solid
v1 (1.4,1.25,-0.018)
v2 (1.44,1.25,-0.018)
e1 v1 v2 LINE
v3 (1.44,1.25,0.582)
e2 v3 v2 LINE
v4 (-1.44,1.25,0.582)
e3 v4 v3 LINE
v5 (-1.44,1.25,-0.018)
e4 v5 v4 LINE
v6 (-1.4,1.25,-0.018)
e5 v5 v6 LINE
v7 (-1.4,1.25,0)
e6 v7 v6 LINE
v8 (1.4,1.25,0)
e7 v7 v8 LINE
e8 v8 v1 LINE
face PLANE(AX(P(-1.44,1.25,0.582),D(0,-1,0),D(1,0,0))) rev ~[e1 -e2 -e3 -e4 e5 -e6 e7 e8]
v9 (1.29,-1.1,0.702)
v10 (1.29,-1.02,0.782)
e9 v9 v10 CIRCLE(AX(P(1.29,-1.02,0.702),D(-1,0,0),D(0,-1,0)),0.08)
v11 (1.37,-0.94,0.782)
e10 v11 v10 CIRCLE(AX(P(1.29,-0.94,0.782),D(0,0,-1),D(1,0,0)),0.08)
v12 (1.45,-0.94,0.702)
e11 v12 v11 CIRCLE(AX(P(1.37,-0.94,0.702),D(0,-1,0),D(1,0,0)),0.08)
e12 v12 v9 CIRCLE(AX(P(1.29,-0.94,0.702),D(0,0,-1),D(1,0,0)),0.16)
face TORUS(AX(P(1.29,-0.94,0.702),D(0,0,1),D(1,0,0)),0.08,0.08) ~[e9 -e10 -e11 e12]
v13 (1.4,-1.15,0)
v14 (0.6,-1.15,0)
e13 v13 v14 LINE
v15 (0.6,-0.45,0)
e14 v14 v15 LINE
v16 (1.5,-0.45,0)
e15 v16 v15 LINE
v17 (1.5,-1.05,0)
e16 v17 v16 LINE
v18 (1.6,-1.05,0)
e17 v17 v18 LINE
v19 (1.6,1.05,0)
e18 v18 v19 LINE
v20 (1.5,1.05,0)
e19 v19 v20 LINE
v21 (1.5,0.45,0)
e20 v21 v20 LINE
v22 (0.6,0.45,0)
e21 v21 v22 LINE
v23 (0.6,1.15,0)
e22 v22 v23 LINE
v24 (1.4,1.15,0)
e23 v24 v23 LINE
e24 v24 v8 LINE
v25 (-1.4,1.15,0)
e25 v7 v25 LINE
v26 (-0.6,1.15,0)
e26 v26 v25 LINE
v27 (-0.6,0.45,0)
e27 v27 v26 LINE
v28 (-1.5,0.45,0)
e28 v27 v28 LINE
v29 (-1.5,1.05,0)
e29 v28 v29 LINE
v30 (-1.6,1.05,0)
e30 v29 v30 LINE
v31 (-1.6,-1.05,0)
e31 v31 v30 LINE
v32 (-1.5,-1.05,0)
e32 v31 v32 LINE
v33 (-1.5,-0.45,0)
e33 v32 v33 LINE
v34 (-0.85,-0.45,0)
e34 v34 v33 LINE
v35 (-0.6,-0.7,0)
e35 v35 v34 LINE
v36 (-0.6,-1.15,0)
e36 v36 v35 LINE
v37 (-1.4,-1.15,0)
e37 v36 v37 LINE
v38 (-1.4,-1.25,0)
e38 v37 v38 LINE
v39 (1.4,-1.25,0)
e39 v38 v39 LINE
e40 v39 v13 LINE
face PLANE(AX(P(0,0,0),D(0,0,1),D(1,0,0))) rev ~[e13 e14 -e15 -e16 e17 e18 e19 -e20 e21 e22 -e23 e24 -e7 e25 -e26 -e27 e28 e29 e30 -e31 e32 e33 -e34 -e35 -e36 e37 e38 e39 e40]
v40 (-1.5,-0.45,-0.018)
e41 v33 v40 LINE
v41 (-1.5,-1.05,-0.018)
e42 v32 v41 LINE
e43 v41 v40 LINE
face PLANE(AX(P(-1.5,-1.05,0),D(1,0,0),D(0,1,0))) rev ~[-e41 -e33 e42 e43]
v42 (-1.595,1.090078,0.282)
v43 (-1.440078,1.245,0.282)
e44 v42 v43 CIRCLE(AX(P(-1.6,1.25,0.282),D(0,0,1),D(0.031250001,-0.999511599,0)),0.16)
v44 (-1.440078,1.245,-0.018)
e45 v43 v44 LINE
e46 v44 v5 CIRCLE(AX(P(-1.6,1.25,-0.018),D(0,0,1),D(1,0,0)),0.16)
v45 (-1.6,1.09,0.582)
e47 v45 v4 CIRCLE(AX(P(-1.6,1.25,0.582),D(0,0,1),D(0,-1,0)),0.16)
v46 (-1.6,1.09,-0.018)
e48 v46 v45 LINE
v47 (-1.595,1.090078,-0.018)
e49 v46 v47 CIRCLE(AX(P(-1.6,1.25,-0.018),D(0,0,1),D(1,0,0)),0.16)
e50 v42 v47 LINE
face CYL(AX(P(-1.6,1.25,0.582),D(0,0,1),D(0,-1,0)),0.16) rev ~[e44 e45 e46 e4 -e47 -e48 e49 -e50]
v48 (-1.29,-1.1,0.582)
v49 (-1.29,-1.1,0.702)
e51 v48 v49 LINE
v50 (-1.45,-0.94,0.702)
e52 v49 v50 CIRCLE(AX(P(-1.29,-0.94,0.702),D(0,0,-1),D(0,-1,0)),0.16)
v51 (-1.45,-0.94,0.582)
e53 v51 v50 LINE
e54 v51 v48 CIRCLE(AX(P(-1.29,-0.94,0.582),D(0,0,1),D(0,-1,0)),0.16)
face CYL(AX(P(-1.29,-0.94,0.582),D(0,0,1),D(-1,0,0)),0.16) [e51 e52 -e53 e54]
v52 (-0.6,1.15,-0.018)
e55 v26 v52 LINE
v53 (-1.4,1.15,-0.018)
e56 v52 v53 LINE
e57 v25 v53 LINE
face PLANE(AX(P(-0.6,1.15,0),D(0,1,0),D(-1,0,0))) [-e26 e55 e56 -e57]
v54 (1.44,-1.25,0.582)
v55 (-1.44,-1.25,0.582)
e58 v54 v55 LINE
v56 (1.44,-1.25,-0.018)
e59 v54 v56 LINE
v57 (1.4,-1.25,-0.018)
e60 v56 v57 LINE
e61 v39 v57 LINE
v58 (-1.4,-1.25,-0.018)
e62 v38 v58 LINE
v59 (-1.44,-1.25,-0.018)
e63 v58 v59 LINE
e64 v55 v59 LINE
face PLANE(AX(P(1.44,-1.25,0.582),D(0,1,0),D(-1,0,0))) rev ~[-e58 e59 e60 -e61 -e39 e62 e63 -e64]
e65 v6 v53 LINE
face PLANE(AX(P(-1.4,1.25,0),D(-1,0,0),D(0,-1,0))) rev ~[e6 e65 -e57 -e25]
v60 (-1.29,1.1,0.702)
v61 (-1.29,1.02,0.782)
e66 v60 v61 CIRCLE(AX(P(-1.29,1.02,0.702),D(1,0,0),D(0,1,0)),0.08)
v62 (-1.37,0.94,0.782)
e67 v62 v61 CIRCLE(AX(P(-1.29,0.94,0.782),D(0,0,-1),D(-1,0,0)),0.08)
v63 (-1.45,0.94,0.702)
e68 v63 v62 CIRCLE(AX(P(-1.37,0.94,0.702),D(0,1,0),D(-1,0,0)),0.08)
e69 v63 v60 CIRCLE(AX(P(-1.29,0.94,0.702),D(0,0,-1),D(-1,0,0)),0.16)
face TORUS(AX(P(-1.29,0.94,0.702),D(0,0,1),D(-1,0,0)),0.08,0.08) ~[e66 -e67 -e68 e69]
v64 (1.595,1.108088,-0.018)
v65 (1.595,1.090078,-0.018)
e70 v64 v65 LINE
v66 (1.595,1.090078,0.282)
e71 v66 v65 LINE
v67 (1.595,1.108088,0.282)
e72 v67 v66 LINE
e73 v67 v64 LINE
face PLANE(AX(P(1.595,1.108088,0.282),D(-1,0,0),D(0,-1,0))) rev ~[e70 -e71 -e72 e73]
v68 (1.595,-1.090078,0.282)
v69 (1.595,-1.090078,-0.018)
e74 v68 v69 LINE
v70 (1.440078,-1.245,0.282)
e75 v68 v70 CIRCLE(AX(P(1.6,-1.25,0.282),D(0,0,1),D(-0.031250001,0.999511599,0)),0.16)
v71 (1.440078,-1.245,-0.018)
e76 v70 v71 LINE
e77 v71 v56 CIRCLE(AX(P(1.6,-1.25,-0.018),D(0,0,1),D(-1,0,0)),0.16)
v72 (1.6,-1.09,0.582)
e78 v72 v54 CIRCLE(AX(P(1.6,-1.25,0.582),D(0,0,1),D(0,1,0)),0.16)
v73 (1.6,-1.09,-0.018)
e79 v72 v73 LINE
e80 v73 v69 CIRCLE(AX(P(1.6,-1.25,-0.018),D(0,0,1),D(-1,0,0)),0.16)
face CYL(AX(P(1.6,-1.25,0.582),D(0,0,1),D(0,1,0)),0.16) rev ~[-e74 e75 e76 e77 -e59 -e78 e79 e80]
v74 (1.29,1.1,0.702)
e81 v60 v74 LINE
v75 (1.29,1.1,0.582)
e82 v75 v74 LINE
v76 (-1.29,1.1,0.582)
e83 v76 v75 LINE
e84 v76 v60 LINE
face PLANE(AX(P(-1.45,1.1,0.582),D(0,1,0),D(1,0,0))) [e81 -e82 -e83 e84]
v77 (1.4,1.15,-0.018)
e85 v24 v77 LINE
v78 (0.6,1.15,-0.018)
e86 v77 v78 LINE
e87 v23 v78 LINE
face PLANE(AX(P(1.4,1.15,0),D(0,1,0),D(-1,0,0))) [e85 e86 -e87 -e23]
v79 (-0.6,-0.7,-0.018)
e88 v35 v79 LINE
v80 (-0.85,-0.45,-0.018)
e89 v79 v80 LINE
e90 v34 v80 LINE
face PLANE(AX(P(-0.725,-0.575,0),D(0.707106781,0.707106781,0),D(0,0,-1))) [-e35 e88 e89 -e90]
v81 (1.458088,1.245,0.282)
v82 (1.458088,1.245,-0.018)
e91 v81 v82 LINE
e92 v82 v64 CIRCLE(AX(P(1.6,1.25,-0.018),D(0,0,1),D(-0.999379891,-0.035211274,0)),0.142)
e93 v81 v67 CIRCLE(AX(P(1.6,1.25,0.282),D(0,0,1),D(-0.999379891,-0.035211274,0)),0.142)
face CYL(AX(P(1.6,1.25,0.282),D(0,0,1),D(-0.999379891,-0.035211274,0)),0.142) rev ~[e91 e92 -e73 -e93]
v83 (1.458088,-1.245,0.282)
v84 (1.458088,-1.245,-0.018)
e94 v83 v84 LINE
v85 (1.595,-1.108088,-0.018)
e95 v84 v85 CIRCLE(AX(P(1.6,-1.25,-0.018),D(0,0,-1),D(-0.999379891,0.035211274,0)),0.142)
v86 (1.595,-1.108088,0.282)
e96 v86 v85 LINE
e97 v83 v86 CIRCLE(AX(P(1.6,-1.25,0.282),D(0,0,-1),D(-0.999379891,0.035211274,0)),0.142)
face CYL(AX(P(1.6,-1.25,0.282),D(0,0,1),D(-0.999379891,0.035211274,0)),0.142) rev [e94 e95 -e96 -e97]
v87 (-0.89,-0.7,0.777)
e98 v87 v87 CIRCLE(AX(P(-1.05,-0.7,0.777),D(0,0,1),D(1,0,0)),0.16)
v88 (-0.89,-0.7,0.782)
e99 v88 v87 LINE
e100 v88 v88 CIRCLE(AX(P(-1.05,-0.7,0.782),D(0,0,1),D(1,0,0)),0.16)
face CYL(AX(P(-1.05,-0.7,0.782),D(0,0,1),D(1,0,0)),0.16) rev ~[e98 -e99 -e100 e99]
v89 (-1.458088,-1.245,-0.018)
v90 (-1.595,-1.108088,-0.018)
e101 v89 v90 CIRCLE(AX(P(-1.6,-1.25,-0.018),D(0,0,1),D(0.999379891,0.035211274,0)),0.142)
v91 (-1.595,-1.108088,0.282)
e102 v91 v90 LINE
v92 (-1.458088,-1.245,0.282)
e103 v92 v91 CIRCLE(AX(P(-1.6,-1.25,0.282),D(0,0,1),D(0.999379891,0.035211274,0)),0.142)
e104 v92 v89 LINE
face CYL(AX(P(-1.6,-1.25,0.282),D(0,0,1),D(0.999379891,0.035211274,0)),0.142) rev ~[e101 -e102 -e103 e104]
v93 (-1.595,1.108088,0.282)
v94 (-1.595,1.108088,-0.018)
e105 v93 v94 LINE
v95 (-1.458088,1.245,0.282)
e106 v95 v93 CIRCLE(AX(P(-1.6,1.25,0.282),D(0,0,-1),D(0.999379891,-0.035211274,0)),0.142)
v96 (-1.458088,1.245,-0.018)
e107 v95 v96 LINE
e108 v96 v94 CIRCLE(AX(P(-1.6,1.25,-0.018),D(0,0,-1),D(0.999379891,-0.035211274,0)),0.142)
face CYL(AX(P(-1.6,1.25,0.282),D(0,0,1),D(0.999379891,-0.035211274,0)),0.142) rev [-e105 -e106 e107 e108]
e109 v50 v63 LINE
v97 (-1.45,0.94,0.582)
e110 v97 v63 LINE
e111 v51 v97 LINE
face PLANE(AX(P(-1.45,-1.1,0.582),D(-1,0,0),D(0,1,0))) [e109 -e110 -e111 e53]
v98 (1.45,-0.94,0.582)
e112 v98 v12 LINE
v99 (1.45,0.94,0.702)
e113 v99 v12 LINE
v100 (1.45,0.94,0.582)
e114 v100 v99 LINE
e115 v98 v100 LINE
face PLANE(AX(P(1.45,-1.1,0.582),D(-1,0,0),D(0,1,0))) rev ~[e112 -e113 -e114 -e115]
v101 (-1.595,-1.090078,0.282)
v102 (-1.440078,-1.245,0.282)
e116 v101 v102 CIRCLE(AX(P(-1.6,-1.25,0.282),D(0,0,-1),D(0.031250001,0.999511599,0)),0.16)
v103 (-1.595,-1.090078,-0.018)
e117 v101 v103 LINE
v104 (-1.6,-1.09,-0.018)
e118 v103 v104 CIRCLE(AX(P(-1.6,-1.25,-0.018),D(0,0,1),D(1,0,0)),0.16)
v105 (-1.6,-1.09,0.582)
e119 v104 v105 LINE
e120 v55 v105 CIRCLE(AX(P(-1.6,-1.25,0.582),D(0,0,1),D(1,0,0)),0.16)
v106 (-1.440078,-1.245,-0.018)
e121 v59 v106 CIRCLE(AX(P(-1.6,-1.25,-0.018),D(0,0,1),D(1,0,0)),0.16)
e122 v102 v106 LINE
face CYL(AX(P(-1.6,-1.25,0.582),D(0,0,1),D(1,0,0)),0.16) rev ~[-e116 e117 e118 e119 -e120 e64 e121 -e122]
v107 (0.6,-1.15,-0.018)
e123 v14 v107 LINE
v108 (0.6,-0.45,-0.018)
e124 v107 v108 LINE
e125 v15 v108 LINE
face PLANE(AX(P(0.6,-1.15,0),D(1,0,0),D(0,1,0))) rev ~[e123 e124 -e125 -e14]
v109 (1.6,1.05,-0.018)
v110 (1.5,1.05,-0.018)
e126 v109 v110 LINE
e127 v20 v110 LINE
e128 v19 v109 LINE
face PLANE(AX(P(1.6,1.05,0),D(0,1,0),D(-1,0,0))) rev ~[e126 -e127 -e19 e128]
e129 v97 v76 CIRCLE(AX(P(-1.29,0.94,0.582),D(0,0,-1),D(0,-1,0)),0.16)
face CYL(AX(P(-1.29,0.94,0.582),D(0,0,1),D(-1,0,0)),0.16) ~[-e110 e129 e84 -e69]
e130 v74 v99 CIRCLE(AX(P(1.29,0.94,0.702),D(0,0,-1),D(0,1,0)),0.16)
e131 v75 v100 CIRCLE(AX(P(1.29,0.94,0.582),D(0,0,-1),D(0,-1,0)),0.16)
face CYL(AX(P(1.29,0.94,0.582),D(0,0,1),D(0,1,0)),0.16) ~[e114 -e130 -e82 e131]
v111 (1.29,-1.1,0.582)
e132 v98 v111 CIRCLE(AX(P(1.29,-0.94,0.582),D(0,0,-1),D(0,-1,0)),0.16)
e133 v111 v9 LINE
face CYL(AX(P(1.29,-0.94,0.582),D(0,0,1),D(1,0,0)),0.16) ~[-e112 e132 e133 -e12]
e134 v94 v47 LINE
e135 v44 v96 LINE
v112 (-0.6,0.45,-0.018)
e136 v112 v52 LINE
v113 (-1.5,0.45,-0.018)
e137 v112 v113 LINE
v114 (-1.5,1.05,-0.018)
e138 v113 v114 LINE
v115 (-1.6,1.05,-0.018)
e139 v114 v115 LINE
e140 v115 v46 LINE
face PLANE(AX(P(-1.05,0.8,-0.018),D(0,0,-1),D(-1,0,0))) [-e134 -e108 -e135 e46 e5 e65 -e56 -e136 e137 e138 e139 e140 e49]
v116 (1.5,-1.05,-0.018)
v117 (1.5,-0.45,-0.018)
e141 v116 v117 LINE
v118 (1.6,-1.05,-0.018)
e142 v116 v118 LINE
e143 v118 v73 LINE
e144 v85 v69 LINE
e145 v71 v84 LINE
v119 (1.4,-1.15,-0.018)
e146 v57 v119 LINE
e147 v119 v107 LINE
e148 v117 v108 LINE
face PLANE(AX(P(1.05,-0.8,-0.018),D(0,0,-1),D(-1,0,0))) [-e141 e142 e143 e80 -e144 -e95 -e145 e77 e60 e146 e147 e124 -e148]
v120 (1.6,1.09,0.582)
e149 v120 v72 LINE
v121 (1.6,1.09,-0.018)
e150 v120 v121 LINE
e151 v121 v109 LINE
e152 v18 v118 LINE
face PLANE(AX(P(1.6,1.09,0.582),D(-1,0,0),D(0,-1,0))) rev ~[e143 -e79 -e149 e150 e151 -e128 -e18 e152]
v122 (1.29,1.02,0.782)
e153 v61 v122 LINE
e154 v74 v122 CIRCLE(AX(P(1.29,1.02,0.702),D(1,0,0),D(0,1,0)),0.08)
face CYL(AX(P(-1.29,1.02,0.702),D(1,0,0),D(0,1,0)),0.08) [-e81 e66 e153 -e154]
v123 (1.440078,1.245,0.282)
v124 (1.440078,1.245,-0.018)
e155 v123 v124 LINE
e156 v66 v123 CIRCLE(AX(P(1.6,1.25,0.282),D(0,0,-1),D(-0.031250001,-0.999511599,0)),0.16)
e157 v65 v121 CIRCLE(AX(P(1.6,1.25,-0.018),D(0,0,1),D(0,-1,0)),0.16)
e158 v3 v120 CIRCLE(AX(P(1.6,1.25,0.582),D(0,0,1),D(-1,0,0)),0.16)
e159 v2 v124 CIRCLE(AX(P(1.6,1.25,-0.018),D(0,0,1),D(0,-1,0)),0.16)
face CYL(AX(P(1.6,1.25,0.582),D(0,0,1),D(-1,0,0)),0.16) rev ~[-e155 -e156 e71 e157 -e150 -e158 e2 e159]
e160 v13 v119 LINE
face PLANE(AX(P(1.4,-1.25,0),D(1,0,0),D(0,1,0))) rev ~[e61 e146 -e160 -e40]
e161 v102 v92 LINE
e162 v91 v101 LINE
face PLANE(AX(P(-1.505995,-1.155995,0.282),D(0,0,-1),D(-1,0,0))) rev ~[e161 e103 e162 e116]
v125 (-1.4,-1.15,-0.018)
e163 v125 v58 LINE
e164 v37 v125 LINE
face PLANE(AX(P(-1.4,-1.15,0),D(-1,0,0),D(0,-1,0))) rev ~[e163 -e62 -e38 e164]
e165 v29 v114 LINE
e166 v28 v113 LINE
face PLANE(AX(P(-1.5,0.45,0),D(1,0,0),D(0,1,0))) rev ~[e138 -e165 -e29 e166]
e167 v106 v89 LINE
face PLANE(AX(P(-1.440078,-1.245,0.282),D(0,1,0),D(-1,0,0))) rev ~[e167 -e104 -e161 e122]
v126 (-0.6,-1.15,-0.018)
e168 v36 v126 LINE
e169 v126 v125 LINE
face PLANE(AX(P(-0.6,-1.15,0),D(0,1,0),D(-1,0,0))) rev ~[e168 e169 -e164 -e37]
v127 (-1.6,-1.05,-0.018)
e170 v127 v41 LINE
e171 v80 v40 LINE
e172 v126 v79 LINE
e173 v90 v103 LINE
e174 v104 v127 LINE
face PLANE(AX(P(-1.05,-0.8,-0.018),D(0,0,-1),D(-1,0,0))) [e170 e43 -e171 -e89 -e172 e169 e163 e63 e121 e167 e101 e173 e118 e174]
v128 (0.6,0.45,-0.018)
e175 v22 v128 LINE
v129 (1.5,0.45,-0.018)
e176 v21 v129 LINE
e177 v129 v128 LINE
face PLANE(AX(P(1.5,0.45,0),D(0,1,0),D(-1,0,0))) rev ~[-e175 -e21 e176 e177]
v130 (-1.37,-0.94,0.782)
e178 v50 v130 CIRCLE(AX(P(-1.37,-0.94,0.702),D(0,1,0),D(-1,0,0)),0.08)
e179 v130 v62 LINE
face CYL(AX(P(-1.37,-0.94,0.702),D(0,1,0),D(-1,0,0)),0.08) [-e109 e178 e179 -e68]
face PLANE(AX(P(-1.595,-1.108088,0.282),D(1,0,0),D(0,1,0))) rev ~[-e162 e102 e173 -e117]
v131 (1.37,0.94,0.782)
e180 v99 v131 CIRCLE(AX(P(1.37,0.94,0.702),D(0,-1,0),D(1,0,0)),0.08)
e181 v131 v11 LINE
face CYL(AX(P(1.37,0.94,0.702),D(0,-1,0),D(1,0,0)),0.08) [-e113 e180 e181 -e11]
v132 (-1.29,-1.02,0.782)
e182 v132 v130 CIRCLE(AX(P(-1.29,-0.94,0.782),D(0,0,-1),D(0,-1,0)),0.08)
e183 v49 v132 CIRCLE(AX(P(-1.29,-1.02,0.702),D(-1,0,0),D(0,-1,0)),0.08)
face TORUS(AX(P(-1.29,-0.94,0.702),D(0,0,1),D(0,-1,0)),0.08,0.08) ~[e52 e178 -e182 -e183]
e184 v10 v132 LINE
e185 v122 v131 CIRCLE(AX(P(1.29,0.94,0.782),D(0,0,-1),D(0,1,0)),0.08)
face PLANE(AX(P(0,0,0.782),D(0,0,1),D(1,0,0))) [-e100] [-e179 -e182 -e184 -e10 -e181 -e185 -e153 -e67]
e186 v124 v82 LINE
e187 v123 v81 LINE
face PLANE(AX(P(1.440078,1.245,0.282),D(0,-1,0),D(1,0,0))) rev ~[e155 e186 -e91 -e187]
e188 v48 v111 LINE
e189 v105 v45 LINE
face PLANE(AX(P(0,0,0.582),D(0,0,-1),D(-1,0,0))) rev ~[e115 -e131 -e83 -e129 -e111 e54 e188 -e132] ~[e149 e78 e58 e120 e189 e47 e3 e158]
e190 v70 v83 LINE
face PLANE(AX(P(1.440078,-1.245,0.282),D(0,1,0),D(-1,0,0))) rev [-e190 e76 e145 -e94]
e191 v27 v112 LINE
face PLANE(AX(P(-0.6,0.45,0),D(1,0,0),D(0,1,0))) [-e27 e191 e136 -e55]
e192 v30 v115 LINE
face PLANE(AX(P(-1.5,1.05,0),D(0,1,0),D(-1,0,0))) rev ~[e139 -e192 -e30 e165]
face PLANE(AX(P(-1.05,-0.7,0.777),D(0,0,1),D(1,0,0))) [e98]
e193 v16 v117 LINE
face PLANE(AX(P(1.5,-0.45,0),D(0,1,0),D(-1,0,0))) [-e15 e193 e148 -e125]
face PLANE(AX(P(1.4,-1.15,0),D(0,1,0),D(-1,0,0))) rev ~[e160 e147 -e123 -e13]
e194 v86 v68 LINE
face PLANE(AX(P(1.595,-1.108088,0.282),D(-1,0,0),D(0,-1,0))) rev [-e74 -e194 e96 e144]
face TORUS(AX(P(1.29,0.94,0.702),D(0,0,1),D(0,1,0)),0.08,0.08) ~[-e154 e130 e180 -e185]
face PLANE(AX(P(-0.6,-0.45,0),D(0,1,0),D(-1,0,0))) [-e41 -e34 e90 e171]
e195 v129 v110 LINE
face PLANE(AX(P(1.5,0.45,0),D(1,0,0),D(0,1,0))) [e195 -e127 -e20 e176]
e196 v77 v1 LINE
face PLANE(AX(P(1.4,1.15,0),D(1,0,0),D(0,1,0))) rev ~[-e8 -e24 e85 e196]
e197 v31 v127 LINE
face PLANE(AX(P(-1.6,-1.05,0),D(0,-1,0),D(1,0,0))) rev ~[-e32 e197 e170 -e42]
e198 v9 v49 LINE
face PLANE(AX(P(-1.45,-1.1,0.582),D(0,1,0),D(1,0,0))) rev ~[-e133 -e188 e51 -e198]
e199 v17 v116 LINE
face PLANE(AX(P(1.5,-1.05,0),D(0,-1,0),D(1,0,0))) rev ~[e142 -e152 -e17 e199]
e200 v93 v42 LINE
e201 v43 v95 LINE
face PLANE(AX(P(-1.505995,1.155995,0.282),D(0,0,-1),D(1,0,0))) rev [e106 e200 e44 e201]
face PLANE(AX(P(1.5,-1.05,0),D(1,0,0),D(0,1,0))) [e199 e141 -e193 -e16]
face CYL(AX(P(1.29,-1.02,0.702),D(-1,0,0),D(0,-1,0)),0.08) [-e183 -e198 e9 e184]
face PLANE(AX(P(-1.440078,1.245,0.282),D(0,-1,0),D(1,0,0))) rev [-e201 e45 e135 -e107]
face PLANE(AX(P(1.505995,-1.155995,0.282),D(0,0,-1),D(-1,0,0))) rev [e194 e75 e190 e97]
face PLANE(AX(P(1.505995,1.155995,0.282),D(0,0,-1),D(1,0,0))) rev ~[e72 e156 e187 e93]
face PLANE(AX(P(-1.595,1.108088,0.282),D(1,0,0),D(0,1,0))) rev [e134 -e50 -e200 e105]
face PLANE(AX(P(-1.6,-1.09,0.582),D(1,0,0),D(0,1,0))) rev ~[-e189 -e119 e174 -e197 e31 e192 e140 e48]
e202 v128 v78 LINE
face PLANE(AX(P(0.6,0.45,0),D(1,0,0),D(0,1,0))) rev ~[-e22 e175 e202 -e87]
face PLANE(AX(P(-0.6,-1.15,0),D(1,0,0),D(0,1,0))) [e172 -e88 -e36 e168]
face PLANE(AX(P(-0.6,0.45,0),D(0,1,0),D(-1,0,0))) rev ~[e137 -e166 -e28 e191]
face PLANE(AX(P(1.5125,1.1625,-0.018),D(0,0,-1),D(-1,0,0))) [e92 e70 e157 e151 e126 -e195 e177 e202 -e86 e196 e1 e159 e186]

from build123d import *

# Parameters (mm, degrees)
SKETCH1_W               = 3.2
SKETCH1_H               = 2.5
BOSS_EXTRUDE1_DEPTH     = 0.564
SKETCH2_W               = 0.9
SKETCH2_H               = 0.7
BOSS_EXTRUDE2_DEPTH     = 0.018
CHAMFER2_SIZE           = 0.25
CUT_EXTRUDE1_DEPTH      = 3.10727217
CUT_EXTRUDE1_DEPTH_BACK = 3.10727217
BOSS_EXTRUDE3_START     = -0.282
BOSS_EXTRUDE3_DEPTH     = 0.3
MIRROR2_START           = -0.282
MIRROR2_COPY_1_DEPTH    = 0.3
BOSS_EXTRUDE4_START     = 0.018
BOSS_EXTRUDE4_DEPTH     = 0.018
SKETCH8_W               = 2.9
SKETCH8_H               = 2.2
BOSS_EXTRUDE5_DEPTH     = 0.2
FILLET1_R               = 0.16
FILLET2_R               = 0.08
SKETCH9_R               = 0.16
CUT_EXTRUDE2_DEPTH      = 0.005


with BuildPart() as part:
    # Sketch1 → Boss-Extrude1 (new body)
    with BuildSketch(Plane.XY):
        Rectangle(SKETCH1_W, SKETCH1_H)
    extrude(amount=BOSS_EXTRUDE1_DEPTH)

    # Sketch2 → Boss-Extrude2 (add)
    with BuildSketch(Plane(origin=(0, 0, 0), x_dir=(-1, 0, 0), z_dir=(0, 0, -1))):
        with Locations((1.05, -0.8)):
            Rectangle(SKETCH2_W, SKETCH2_H)
        Polygon((1.5, -1.05), (1.5, -1.15), (1.4, -1.15), (1.4, -1.25), (1.6, -1.25), (1.6, -1.05), align=None)
        with Locations((-1.05, -0.8)):
            Rectangle(SKETCH2_W, SKETCH2_H)
        Polygon((-1.6, -1.25), (-1.4, -1.25), (-1.4, -1.15), (-1.5, -1.15), (-1.5, -1.05), (-1.6, -1.05), align=None)
        Polygon((-1.6, 1.25), (-1.6, 1.05), (-1.5, 1.05), (-1.5, 1.15), (-1.4, 1.15), (-1.4, 1.25), align=None)
        with Locations((-1.05, 0.8)):
            Rectangle(SKETCH2_W, SKETCH2_H)
        with Locations((1.05, 0.8)):
            Rectangle(SKETCH2_W, SKETCH2_H)
        Polygon((1.5, 1.05), (1.6, 1.05), (1.6, 1.25), (1.4, 1.25), (1.4, 1.15), (1.5, 1.15), align=None)
    extrude(amount=BOSS_EXTRUDE2_DEPTH)

    # Chamfer2
    chamfer2_edges = [part.edges().sort_by_distance(p)[0] for p in [
        (-0.6, -0.45, -0.009),
    ]]
    chamfer(chamfer2_edges, length=CHAMFER2_SIZE)

    # Sketch3 → Cut-Extrude1 (cut, two sides: drawn at the far end of the back side and taken through both)
    with BuildSketch(Plane(origin=(0, 0, 0), x_dir=(-1, 0, 0), z_dir=(0, 0, -1)).offset(-CUT_EXTRUDE1_DEPTH_BACK)):
        with BuildLine():
            Line((1.6, 1.09), (1.6, 1.25))
            Line((1.6, 1.25), (1.44, 1.25))
            ThreePointArc((1.44, 1.25), (1.486862915, 1.136862915), (1.6, 1.09))
        make_face()
        with BuildLine():
            Line((-1.44, 1.25), (-1.6, 1.25))
            Line((-1.6, 1.25), (-1.6, 1.09))
            ThreePointArc((-1.6, 1.09), (-1.486862915, 1.136862915), (-1.44, 1.25))
        make_face()
        with BuildLine():
            Line((-1.6, -1.09), (-1.6, -1.25))
            Line((-1.6, -1.25), (-1.44, -1.25))
            ThreePointArc((-1.44, -1.25), (-1.486862915, -1.136862915), (-1.6, -1.09))
        make_face()
        with BuildLine():
            Line((1.6, -1.09), (1.6, -1.25))
            Line((1.6, -1.25), (1.44, -1.25))
            ThreePointArc((1.44, -1.25), (1.486862915, -1.136862915), (1.6, -1.09))
        make_face()
    extrude(amount=CUT_EXTRUDE1_DEPTH + CUT_EXTRUDE1_DEPTH_BACK, mode=Mode.SUBTRACT)

    # Sketch5 → Boss-Extrude3 (add)
    with BuildSketch(Plane(origin=(0, 0, 0), x_dir=(-1, 0, 0), z_dir=(0, 0, -1)).offset(BOSS_EXTRUDE3_START)):
        with BuildLine():
            Line((1.440078144, -1.245), (1.458088055, -1.245))
            ThreePointArc((1.458088055, -1.245), (1.499590837, -1.149590837), (1.595, -1.108088055))
            Line((1.595, -1.108088055), (1.595, -1.090078144))
            ThreePointArc((1.595, -1.090078144), (1.486862915, -1.136862915), (1.440078144, -1.245))
        make_face()
    boss_extrude3 = extrude(amount=BOSS_EXTRUDE3_DEPTH)

    # Mirror1: Boss-Extrude3 across plane
    add(boss_extrude3.mirror(Plane(origin=(0, 0, 0), x_dir=(0, 0, 1), z_dir=(1, 0, 0))))

    # Mirror2: Boss-Extrude3 across plane
    add(boss_extrude3.mirror(Plane.ZX))

    # Mirror2 copy 1 sketch → Mirror2 copy 1 (add)
    with BuildSketch(Plane(origin=(0, 0, 0), x_dir=(1, 0, 0), z_dir=(0, 0, -1)).offset(MIRROR2_START)):
        with BuildLine():
            Line((1.440078144, -1.245), (1.458088055, -1.245))
            ThreePointArc((1.458088055, -1.245), (1.499590837, -1.149590837), (1.595, -1.108088055))
            Line((1.595, -1.108088055), (1.595, -1.090078144))
            ThreePointArc((1.595, -1.090078144), (1.486862915, -1.136862915), (1.440078144, -1.245))
        make_face()
    extrude(amount=MIRROR2_COPY_1_DEPTH)

    # Sketch7 → Boss-Extrude4 (add)
    with BuildSketch(Plane.XY.offset(0.564).offset(BOSS_EXTRUDE4_START)):
        with BuildLine():
            Line((-1.44, 1.25), (1.44, 1.25))
            ThreePointArc((1.44, 1.25), (1.486862915, 1.136862915), (1.6, 1.09))
            Line((1.6, 1.09), (1.6, -1.09))
            ThreePointArc((1.6, -1.09), (1.486862915, -1.136862915), (1.44, -1.25))
            Line((1.44, -1.25), (-1.44, -1.25))
            ThreePointArc((-1.44, -1.25), (-1.486862915, -1.136862915), (-1.6, -1.09))
            Line((-1.6, -1.09), (-1.6, 1.09))
            ThreePointArc((-1.6, 1.09), (-1.486862915, 1.136862915), (-1.44, 1.25))
        make_face()
    extrude(amount=-BOSS_EXTRUDE4_DEPTH)

    # Sketch8 → Boss-Extrude5 (add)
    with BuildSketch(Plane.XY.offset(0.582)):
        Rectangle(SKETCH8_W, SKETCH8_H)
    extrude(amount=BOSS_EXTRUDE5_DEPTH)

    # Fillet1
    fillet1_edges = [part.edges().sort_by_distance(p)[0] for p in [
        (1.45, -1.1, 0.682),
        (1.45, 1.1, 0.682),
        (-1.45, 1.1, 0.682),
        (-1.45, -1.1, 0.682),
    ]]
    fillet(fillet1_edges, radius=FILLET1_R)

    # Fillet2
    fillet2_edges = [part.edges().sort_by_distance(p)[0] for p in [
        (-1.45, 0, 0.782),
        (0, 1.1, 0.782),
        (1.45, 0, 0.782),
        (0, -1.1, 0.782),
        (-1.403137085, -1.053137085, 0.782),
        (1.403137085, -1.053137085, 0.782),
        (1.403137085, 1.053137085, 0.782),
        (-1.403137085, 1.053137085, 0.782),
    ]]
    fillet(fillet2_edges, radius=FILLET2_R)

    # Sketch9 → Cut-Extrude2 (cut)
    with BuildSketch(Plane.XY.offset(0.782)):
        with Locations((-1.05, -0.7)):
            Circle(SKETCH9_R)
    extrude(amount=-CUT_EXTRUDE2_DEPTH, mode=Mode.SUBTRACT)


solid = part.part
